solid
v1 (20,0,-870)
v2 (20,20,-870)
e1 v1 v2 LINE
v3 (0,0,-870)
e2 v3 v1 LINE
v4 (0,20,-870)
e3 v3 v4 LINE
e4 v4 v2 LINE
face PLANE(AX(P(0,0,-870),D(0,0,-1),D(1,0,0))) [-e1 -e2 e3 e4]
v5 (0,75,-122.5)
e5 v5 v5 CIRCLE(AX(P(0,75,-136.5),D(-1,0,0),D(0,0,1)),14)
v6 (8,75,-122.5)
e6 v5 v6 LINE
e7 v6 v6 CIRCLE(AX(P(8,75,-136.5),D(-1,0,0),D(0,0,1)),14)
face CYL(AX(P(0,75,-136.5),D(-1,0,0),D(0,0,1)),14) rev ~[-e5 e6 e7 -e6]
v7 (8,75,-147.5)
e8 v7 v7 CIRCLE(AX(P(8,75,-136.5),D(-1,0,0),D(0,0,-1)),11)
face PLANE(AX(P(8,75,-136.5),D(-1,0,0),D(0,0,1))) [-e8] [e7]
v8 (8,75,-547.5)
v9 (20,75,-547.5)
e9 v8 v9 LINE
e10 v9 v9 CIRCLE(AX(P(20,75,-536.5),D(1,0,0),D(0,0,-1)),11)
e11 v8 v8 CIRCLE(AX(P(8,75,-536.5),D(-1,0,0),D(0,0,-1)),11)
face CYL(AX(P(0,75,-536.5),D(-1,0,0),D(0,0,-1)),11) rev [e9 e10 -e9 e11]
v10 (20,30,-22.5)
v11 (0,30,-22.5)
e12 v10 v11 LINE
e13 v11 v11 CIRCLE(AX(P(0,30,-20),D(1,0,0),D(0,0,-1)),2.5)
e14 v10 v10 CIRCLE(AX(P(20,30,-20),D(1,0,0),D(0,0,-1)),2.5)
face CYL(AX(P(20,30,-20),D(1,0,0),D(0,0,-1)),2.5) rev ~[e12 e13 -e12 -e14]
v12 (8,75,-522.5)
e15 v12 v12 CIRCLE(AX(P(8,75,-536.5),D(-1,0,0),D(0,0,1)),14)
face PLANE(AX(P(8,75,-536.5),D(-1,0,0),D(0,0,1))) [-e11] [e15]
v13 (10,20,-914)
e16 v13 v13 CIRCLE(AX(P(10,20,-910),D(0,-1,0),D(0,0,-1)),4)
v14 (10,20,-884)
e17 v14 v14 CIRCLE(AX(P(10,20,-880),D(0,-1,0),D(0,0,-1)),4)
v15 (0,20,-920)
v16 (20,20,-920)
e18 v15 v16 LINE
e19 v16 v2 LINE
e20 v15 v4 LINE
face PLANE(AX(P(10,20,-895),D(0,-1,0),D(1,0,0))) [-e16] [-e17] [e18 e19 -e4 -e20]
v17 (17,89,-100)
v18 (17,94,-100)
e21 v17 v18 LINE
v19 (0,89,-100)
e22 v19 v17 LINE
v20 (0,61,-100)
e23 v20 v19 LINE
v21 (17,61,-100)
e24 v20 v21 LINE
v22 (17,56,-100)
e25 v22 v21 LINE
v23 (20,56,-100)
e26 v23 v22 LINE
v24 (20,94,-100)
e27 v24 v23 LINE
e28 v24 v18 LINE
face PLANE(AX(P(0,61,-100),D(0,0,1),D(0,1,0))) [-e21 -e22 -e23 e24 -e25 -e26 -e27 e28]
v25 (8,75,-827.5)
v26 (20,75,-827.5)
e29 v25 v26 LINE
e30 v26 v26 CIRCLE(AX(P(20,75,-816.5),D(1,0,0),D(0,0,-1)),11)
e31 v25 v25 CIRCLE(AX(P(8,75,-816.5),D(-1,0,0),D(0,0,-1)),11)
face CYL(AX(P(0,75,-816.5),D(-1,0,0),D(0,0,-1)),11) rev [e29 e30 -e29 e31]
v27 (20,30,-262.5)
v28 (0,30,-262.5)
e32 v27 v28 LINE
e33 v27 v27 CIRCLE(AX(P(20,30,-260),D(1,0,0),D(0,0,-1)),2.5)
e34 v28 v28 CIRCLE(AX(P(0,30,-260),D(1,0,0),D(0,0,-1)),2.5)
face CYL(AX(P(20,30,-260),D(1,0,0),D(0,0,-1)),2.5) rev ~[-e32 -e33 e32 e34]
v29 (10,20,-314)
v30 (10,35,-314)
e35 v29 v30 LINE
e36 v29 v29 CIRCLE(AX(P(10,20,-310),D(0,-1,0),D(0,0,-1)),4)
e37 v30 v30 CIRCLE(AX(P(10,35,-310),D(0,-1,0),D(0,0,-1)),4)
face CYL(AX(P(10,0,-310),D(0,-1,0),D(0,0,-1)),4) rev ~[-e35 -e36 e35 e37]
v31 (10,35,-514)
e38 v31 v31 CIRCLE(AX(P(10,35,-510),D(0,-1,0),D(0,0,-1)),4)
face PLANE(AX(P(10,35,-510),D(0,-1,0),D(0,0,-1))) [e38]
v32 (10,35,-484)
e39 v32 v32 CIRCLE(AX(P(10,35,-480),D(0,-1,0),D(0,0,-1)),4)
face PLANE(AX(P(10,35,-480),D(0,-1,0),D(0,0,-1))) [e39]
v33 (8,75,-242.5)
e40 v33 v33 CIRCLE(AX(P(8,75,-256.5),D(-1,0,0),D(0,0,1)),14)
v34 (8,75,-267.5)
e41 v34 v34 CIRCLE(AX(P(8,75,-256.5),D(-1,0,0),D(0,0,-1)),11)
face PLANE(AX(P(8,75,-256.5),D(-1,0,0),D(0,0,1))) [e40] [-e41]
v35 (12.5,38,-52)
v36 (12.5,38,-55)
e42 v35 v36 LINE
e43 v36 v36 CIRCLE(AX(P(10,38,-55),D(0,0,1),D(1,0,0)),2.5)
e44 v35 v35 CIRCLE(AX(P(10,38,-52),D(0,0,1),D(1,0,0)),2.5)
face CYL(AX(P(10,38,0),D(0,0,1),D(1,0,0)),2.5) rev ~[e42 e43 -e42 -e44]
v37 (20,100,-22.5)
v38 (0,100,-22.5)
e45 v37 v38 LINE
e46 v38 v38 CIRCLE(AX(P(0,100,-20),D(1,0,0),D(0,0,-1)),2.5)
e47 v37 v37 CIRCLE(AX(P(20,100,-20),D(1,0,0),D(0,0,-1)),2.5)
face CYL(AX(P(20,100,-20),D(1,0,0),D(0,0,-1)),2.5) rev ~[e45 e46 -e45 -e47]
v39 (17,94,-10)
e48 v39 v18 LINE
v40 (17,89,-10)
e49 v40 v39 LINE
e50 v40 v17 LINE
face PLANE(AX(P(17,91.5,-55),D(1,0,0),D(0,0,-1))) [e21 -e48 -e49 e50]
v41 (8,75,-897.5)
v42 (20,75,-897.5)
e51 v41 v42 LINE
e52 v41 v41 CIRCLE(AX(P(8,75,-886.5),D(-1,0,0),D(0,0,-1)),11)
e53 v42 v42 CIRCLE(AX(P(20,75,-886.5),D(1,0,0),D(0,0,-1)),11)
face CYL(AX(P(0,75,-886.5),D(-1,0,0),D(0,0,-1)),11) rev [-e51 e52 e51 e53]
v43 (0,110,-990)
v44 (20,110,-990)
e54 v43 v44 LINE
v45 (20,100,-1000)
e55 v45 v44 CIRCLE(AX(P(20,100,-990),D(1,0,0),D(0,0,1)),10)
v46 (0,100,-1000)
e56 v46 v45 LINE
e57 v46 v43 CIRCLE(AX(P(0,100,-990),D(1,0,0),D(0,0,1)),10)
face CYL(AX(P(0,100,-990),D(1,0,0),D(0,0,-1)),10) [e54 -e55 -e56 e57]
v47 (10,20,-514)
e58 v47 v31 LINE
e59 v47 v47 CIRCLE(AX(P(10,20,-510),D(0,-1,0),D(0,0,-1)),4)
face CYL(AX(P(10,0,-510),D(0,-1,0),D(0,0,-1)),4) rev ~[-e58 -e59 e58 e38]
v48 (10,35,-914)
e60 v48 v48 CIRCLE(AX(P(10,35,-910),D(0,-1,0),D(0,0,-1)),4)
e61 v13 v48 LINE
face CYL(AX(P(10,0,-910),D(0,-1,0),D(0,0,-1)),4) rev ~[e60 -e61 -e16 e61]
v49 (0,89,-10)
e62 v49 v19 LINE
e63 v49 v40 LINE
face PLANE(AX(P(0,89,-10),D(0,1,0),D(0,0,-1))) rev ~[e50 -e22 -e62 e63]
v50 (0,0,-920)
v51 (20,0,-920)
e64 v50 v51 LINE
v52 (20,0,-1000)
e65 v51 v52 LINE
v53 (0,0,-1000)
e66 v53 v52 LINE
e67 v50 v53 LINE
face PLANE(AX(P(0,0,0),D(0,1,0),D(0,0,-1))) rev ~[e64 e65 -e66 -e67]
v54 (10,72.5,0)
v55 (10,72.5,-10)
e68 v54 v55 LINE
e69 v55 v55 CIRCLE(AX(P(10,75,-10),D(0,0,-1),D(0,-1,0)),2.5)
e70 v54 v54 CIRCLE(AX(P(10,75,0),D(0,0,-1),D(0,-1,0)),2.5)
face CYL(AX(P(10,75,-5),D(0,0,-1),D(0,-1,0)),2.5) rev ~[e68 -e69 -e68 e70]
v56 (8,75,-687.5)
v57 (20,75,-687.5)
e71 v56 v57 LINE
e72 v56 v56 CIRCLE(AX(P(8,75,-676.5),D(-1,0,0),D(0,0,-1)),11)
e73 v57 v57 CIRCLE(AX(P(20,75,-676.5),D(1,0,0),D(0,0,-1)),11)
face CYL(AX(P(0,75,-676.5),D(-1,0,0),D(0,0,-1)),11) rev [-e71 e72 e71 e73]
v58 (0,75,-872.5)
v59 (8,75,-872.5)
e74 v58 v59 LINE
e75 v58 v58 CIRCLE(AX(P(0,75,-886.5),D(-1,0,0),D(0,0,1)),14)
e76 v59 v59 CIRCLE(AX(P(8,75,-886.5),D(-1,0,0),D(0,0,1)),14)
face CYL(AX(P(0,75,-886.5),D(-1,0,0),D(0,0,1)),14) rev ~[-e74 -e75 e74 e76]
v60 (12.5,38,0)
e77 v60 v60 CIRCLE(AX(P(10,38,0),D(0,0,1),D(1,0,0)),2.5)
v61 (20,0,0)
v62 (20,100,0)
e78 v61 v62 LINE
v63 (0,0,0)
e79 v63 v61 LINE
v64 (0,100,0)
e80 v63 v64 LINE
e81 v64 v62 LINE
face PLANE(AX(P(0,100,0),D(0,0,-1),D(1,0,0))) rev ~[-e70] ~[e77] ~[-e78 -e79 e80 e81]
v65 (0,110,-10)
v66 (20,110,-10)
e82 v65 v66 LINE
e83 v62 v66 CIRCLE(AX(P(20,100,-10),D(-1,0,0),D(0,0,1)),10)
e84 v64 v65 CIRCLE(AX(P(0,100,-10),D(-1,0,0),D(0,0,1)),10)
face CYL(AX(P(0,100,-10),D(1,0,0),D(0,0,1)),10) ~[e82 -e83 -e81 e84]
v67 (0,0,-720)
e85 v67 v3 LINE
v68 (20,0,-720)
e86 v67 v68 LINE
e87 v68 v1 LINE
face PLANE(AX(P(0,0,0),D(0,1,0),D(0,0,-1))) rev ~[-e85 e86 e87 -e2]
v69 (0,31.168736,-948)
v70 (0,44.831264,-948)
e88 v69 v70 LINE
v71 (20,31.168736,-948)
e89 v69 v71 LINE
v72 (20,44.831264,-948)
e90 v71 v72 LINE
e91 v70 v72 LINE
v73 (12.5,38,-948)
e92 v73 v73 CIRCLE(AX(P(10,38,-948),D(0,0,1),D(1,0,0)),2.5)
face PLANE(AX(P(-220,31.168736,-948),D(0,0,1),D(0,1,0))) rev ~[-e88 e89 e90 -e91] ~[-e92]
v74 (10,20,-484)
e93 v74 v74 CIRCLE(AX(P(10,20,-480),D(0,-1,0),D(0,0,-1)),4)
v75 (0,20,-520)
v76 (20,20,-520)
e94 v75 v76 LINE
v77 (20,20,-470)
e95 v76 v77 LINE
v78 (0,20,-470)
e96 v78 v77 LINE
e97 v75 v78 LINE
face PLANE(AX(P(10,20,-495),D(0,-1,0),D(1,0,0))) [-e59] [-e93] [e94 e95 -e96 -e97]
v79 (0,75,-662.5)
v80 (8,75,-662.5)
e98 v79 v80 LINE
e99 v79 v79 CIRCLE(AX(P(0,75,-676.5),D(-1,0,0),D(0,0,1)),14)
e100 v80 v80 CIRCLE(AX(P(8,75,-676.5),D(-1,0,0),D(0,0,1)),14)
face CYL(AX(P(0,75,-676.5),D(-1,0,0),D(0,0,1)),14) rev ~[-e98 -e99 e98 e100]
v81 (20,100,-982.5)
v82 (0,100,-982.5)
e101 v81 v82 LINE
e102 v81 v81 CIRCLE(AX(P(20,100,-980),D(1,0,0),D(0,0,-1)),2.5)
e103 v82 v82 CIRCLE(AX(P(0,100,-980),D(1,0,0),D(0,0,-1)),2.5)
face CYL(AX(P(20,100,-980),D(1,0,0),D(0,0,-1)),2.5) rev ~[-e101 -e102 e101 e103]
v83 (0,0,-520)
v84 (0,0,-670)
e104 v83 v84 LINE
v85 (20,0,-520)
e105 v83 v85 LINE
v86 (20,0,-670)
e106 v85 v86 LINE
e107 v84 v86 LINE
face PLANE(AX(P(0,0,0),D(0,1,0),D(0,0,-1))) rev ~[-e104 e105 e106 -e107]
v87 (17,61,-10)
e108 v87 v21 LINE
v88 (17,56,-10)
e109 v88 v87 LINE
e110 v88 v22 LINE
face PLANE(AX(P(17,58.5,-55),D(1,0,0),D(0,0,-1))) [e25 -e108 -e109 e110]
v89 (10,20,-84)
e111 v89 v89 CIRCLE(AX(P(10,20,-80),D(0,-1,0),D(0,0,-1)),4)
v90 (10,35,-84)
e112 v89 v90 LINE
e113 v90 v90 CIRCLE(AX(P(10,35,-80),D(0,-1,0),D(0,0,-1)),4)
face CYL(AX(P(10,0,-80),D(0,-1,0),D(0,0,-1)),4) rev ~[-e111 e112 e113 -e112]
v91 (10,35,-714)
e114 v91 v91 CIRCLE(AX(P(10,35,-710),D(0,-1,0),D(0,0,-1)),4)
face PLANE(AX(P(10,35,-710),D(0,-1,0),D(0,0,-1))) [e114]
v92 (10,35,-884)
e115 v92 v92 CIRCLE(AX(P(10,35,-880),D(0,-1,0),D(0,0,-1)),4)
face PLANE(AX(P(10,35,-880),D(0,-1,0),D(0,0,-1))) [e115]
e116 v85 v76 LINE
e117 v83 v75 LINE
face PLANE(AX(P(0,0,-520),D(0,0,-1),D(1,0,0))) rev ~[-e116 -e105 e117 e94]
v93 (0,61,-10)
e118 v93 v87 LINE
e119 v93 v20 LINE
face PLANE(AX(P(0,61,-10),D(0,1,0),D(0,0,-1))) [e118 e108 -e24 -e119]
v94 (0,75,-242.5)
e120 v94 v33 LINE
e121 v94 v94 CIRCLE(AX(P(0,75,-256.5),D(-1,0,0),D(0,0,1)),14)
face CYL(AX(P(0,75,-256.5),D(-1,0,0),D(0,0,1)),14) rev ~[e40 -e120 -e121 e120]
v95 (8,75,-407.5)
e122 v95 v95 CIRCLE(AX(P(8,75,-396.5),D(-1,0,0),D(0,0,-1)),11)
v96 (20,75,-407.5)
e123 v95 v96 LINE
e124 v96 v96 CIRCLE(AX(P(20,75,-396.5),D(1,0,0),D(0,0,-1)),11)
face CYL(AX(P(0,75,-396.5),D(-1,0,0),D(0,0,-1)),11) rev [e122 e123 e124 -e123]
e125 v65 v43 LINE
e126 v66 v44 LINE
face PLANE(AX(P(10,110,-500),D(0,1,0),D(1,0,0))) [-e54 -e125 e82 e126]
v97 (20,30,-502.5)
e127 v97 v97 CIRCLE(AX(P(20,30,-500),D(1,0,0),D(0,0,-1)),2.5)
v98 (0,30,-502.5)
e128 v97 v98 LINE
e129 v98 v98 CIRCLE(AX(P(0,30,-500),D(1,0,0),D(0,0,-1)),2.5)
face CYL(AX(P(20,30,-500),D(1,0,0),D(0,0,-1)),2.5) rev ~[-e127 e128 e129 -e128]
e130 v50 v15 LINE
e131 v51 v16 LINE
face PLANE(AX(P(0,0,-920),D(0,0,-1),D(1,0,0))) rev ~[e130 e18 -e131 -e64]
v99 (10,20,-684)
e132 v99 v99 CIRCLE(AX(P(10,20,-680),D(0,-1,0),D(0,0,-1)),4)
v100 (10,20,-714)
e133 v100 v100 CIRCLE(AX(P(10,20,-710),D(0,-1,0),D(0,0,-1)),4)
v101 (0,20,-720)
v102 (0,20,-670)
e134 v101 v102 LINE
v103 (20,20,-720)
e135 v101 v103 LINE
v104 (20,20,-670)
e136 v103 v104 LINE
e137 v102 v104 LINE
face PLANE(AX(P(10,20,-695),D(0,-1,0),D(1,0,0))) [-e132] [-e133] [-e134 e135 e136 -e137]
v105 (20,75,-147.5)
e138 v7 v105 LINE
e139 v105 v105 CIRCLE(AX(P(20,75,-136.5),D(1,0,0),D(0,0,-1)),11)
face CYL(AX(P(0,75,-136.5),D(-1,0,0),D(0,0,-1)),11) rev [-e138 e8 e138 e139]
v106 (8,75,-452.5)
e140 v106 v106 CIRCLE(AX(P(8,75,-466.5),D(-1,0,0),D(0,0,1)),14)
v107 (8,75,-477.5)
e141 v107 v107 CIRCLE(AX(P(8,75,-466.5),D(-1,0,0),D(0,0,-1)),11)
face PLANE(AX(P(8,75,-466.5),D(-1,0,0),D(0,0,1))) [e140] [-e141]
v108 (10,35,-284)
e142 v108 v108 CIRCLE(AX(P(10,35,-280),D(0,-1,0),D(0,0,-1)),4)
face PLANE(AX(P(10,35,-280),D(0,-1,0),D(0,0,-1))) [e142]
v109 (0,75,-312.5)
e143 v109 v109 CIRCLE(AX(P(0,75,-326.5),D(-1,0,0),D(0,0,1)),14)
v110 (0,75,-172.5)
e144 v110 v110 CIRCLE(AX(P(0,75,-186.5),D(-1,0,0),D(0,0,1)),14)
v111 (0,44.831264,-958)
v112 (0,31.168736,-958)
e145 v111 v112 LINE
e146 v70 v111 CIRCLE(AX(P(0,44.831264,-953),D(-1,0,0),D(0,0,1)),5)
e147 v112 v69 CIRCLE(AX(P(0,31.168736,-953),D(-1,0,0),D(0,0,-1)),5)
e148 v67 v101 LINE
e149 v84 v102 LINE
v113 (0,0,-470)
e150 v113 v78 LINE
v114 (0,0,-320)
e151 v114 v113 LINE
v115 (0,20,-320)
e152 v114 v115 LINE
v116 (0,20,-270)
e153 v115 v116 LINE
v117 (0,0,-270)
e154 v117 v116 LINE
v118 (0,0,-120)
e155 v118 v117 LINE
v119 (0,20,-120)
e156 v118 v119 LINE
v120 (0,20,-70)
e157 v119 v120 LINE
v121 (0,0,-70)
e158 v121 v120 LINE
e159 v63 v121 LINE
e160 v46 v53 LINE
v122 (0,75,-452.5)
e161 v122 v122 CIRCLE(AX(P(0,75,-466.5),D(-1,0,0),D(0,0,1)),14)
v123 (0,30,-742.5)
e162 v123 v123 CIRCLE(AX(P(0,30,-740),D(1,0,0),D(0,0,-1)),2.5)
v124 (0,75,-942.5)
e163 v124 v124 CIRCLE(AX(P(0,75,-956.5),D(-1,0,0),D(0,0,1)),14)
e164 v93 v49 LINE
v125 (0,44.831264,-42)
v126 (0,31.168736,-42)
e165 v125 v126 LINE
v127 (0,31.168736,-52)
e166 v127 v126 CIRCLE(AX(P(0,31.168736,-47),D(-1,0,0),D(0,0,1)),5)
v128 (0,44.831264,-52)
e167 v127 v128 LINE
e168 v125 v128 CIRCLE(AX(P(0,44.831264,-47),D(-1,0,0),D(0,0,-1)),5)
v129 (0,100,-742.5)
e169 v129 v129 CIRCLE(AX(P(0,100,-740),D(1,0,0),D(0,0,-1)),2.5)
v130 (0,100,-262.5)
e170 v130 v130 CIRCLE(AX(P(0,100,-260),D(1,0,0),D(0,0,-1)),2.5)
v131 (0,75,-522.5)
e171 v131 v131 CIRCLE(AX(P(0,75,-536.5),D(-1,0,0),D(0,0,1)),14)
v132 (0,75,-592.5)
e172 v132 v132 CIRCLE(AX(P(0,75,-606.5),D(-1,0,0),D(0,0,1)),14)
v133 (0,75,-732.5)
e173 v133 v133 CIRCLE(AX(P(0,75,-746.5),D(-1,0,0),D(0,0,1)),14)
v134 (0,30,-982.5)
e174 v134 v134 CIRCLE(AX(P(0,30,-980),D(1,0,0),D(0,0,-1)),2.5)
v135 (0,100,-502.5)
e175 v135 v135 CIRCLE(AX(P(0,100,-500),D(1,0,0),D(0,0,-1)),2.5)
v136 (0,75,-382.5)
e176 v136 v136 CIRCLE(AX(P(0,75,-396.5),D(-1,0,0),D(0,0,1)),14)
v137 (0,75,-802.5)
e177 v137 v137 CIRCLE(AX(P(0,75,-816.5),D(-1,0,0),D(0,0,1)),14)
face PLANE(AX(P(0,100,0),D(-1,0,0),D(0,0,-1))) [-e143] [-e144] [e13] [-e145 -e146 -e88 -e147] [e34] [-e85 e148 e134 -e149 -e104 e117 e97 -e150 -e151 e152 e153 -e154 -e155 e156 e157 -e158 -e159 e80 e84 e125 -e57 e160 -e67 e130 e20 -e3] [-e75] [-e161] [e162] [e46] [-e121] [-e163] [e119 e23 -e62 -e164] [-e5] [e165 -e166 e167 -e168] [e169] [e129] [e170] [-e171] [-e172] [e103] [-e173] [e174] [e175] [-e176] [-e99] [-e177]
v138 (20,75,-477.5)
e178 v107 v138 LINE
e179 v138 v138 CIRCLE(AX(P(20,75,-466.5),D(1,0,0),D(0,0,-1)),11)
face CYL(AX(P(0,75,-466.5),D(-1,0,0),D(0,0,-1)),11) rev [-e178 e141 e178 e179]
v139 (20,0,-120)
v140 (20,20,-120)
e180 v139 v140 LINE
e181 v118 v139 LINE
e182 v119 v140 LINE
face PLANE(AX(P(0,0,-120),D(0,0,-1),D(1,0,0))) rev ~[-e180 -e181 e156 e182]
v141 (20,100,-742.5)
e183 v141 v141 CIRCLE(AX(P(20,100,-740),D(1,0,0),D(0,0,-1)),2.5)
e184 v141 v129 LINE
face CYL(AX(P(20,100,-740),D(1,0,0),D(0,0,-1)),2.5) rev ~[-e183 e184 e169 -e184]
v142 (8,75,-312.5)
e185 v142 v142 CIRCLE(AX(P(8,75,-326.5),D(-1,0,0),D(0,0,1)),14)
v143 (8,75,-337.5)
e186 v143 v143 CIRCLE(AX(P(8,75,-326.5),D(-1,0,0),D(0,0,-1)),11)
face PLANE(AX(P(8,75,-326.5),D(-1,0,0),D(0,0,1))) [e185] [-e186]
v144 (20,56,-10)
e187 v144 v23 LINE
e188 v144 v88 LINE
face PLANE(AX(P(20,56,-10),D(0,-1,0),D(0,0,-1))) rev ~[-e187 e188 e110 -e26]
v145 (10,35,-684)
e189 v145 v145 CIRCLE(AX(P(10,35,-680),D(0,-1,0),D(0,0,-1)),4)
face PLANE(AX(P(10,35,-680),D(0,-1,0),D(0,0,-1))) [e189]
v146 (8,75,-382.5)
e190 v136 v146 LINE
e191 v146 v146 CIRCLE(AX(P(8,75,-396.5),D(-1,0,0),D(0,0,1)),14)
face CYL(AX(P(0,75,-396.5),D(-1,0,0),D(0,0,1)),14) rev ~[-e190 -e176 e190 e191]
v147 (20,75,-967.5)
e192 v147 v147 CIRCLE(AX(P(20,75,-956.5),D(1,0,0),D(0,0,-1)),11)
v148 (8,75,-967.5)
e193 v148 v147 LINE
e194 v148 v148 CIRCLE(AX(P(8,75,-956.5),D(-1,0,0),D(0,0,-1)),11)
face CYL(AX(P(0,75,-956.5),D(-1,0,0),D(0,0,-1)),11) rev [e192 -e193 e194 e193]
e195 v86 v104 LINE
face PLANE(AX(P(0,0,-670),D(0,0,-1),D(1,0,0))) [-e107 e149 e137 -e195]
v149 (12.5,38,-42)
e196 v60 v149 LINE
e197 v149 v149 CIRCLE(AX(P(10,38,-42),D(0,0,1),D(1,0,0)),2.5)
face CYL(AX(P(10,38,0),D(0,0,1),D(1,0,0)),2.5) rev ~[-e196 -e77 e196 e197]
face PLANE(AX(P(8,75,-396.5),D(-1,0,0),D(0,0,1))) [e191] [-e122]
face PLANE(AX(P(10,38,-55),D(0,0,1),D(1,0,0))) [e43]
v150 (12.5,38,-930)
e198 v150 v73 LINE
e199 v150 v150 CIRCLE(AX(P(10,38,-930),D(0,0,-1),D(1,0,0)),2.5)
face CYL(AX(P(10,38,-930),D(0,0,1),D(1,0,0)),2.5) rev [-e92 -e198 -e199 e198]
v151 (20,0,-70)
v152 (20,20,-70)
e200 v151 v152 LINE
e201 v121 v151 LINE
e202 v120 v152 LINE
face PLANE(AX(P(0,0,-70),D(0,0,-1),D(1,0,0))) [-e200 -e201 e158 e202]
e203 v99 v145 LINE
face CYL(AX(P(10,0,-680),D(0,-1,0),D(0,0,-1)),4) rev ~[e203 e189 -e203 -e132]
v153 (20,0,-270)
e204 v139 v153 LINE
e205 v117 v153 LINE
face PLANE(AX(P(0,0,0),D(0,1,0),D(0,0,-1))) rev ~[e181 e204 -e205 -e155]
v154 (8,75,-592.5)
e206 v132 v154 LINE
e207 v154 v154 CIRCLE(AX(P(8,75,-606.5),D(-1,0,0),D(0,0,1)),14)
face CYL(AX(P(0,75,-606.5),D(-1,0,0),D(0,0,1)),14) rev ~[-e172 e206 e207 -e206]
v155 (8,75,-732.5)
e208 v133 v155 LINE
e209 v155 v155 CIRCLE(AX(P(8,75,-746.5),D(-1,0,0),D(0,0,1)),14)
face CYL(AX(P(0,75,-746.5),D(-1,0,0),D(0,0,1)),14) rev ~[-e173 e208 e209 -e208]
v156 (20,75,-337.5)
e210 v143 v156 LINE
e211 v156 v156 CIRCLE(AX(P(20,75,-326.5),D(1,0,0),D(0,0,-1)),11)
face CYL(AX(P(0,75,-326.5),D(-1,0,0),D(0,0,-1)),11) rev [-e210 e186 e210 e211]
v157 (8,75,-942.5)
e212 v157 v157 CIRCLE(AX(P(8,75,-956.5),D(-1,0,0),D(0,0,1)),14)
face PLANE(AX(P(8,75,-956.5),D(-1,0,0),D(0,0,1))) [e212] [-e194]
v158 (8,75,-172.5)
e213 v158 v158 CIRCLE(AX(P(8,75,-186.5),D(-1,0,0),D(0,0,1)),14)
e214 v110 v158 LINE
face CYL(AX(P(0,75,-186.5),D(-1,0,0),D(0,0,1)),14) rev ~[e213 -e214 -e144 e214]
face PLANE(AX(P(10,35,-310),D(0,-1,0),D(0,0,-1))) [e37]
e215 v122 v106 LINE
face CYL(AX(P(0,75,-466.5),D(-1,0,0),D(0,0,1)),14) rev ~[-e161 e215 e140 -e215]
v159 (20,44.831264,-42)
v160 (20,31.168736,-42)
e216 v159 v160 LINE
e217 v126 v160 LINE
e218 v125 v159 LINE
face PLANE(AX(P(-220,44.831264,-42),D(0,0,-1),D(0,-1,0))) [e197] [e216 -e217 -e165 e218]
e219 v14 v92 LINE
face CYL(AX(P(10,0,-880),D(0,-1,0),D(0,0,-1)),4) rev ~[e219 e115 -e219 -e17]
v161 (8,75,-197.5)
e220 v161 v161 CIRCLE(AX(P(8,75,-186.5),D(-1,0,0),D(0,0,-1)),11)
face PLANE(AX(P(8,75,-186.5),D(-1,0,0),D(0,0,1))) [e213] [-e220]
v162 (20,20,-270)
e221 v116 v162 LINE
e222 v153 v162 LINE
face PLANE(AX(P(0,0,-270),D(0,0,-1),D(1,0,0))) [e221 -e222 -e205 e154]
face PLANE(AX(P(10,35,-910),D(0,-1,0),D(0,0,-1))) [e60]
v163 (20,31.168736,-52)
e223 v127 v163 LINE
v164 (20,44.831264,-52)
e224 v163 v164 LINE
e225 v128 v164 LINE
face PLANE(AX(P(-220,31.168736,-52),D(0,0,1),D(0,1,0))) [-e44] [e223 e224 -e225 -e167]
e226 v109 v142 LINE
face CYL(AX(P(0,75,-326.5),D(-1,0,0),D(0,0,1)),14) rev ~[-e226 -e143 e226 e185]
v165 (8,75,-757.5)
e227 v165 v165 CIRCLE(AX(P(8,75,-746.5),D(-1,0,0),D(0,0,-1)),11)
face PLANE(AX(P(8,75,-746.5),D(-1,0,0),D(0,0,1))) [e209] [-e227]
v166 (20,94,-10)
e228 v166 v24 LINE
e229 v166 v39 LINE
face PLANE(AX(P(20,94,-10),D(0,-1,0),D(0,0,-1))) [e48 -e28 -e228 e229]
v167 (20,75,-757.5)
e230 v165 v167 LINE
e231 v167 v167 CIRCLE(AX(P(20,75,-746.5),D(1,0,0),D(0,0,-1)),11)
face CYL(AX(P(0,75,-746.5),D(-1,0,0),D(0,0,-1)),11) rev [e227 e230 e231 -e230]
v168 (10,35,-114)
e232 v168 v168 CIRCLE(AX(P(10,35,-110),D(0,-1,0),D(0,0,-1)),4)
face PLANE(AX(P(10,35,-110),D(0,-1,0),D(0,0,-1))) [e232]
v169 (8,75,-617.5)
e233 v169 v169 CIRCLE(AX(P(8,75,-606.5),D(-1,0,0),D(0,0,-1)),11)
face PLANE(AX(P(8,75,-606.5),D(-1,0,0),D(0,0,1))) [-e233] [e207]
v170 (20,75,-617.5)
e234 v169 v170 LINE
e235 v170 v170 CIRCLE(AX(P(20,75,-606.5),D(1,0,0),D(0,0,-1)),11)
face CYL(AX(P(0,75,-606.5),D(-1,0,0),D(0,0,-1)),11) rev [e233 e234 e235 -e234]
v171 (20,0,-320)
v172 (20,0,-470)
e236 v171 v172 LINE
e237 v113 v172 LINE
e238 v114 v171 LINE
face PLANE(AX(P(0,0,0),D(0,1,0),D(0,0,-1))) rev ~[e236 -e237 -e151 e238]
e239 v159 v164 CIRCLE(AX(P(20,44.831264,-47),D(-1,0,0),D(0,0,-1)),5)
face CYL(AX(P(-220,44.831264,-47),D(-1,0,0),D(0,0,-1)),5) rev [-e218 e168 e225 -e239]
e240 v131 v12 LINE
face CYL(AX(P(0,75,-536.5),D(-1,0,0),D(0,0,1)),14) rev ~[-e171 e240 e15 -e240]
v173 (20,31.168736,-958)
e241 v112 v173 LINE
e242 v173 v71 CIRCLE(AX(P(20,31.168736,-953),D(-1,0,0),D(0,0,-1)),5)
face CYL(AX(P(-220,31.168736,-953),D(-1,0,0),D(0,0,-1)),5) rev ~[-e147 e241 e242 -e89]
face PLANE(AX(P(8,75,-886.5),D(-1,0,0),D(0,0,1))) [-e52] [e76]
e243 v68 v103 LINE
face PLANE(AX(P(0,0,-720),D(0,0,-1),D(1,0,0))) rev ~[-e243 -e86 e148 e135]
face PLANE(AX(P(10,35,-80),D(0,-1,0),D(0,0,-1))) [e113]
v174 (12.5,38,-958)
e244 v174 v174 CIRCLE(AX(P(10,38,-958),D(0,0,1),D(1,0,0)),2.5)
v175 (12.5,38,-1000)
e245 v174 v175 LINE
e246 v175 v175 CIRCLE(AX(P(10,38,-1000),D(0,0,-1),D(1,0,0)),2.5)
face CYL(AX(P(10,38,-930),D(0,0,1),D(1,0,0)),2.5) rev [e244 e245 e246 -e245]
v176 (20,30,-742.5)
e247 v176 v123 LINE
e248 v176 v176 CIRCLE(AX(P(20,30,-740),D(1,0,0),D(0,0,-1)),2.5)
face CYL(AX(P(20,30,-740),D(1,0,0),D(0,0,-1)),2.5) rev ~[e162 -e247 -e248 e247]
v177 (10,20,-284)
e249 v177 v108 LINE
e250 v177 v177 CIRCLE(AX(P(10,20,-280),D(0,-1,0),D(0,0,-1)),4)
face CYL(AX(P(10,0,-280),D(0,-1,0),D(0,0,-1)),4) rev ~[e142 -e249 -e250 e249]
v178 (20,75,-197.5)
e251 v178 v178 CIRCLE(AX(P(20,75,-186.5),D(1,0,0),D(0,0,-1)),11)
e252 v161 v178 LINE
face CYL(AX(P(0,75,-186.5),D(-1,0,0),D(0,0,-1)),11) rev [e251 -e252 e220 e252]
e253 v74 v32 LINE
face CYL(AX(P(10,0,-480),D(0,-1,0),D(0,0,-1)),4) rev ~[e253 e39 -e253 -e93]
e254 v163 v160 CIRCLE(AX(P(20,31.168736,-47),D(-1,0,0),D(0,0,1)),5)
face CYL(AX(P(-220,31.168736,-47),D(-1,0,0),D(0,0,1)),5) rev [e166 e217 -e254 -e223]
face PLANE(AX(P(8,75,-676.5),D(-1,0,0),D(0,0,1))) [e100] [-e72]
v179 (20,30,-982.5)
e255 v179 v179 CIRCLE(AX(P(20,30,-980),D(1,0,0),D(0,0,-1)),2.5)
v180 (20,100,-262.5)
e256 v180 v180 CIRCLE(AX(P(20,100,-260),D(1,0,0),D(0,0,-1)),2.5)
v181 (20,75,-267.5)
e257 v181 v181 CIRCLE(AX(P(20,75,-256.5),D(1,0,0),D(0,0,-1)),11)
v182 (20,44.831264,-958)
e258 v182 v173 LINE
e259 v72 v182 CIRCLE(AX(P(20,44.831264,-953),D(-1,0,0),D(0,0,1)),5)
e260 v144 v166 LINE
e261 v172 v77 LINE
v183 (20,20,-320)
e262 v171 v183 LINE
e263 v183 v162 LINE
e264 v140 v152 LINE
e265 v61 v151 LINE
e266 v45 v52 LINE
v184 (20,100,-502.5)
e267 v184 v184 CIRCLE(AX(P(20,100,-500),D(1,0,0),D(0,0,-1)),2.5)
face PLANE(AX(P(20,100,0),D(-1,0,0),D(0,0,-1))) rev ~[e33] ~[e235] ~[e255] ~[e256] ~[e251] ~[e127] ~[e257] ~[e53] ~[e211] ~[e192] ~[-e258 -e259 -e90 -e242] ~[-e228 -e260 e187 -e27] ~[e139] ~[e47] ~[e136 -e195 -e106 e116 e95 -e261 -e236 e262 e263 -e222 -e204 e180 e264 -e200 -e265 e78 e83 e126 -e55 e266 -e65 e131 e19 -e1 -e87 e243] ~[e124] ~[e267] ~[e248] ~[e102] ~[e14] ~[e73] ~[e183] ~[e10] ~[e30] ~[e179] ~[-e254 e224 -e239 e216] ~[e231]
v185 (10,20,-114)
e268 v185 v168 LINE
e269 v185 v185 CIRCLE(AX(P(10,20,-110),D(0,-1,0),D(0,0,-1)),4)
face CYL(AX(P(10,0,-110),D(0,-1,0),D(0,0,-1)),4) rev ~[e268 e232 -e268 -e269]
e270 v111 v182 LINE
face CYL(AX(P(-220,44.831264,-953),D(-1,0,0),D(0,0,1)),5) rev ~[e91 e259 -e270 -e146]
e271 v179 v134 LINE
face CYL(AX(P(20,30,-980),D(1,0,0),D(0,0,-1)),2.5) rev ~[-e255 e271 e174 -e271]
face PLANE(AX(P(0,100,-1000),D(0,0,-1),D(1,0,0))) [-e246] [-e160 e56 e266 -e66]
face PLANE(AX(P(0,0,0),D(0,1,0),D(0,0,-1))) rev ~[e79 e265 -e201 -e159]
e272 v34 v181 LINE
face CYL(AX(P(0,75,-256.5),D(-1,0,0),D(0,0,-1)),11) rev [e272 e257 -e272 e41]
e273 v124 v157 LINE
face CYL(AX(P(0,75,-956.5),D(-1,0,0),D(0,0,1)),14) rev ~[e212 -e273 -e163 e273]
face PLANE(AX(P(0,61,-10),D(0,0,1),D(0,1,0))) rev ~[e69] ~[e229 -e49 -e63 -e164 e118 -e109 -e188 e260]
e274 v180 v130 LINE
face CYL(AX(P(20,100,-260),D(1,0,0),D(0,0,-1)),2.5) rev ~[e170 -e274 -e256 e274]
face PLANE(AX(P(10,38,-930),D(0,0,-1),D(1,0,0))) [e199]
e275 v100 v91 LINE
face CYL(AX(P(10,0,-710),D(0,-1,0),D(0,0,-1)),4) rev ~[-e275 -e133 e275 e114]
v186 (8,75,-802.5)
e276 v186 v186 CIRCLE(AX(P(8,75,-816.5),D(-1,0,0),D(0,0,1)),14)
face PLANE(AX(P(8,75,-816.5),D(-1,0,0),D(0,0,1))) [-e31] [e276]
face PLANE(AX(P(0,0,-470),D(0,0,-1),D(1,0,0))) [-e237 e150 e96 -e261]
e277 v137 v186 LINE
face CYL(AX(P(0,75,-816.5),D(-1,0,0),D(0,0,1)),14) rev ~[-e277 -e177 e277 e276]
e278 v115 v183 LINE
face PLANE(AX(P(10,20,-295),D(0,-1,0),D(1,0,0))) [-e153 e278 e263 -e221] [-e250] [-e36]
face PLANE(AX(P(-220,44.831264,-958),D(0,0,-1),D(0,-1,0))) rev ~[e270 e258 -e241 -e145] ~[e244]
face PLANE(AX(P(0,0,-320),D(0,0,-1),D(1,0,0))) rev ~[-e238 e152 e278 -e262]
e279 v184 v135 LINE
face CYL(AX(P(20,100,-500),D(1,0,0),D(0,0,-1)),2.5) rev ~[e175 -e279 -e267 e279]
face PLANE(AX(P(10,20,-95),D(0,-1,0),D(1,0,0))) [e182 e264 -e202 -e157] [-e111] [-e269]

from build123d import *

# Parameters (mm, degrees)
SKETCH1_W                 = 1000
SKETCH1_H                 = 100
SKETCH1_R                 = 11
SKETCH1_W_2               = 90
SKETCH1_H_2               = 28
BOSS_EXTRUDE1_DEPTH       = 20
SKETCH2_W                 = 20
SKETCH2_H                 = 50
SKETCH2_R                 = 4
CUT_EXTRUDE2_DEPTH        = 20
LPATTERN1_COUNT           = 2
LPATTERN1_PITCH           = 220
SKETCH12_R                = 14
CUT_EXTRUDE6_DEPTH        = 8
SKETCH14_W                = 2.5
SKETCH14_H                = 10
SKETCH16_W                = 90
SKETCH16_H                = 5
CUT_EXTRUDE7_DEPTH        = 3
SKETCH17_W                = 90
SKETCH17_H                = 5
CUT_EXTRUDE8_DEPTH        = 3
SKETCH18_R                = 14
CUT_EXTRUDE9_DEPTH        = 8
SKETCH20_W                = 20
SKETCH20_H                = 1000
BOSS_EXTRUDE2_DEPTH       = 10
FILLET1_R                 = 10
FILLET2_R                 = 10
F_5_0MM_DOWEL_HOLE3_D     = 5
F_5_0MM_DOWEL_HOLE3_DEPTH = 10
F_5_0MM_DOWEL_HOLE3_TIP   = 1.502151548
SKETCH27_R                = 2.5
CUT_EXTRUDE10_DEPTH       = 55
CUT_EXTRUDE11_DEPTH       = 1035.26302264
CUT_EXTRUDE12_START       = -70
SKETCH29_R                = 2.5
CUT_EXTRUDE12_DEPTH       = 70
SKETCH30_R                = 2.5
CUT_EXTRUDE13_DEPTH       = 1035.26302264
CUT_EXTRUDE14_REACH       = 1036.263
SKETCH31_W                = 1251.907534991
SKETCH31_H                = 393.114099754
SKETCH32_R                = 4
CUT_EXTRUDE15_DEPTH       = 35


with BuildPart() as part:
    # Sketch1 → Boss-Extrude1 (new body)
    with BuildSketch(Plane(origin=(0, 0, 0), x_dir=(0, 0, -1), z_dir=(1, 0, 0))):
        with Locations((500, 50)):
            Rectangle(SKETCH1_W, SKETCH1_H)
        with Locations((956.5, 75)):
            Circle(SKETCH1_R, mode=Mode.SUBTRACT)
        with Locations((886.5, 75)):
            Circle(SKETCH1_R, mode=Mode.SUBTRACT)
        with Locations((816.5, 75)):
            Circle(SKETCH1_R, mode=Mode.SUBTRACT)
        with Locations((746.5, 75)):
            Circle(SKETCH1_R, mode=Mode.SUBTRACT)
        with Locations((676.5, 75)):
            Circle(SKETCH1_R, mode=Mode.SUBTRACT)
        with Locations((606.5, 75)):
            Circle(SKETCH1_R, mode=Mode.SUBTRACT)
        with Locations((536.5, 75)):
            Circle(SKETCH1_R, mode=Mode.SUBTRACT)
        with Locations((466.5, 75)):
            Circle(SKETCH1_R, mode=Mode.SUBTRACT)
        with Locations((396.5, 75)):
            Circle(SKETCH1_R, mode=Mode.SUBTRACT)
        with Locations((326.5, 75)):
            Circle(SKETCH1_R, mode=Mode.SUBTRACT)
        with Locations((256.5, 75)):
            Circle(SKETCH1_R, mode=Mode.SUBTRACT)
        with Locations((186.5, 75)):
            Circle(SKETCH1_R, mode=Mode.SUBTRACT)
        with Locations((136.5, 75)):
            Circle(SKETCH1_R, mode=Mode.SUBTRACT)
        with Locations((55, 75)):
            Rectangle(SKETCH1_W_2, SKETCH1_H_2, mode=Mode.SUBTRACT)
    extrude(amount=BOSS_EXTRUDE1_DEPTH)

    # Sketch2 → Cut-Extrude2 (cut)
    # profile 1 of 5: a face of its own
    with BuildSketch(Plane.XZ):
        with Locations((10, -895)):
            Rectangle(SKETCH2_W, SKETCH2_H)
        with Locations(Location((10, -910, 0), (0, 0, 270))):
            Circle(SKETCH2_R, mode=Mode.SUBTRACT)
        with Locations(Location((10, -880, 0), (0, 0, 270))):
            Circle(SKETCH2_R, mode=Mode.SUBTRACT)
    # profile 2 of 5: a face of its own
    with BuildSketch(Plane.XZ):
        with Locations((10, -695)):
            Rectangle(SKETCH2_W, SKETCH2_H)
        with Locations(Location((10, -710, 0), (0, 0, 270))):
            Circle(SKETCH2_R, mode=Mode.SUBTRACT)
        with Locations(Location((10, -680, 0), (0, 0, 270))):
            Circle(SKETCH2_R, mode=Mode.SUBTRACT)
    # profile 3 of 5: a face of its own
    with BuildSketch(Plane.XZ):
        with Locations((10, -495)):
            Rectangle(SKETCH2_W, SKETCH2_H)
        with Locations(Location((10, -510, 0), (0, 0, 270))):
            Circle(SKETCH2_R, mode=Mode.SUBTRACT)
        with Locations(Location((10, -480, 0), (0, 0, 270))):
            Circle(SKETCH2_R, mode=Mode.SUBTRACT)
    # profile 4 of 5: a face of its own
    with BuildSketch(Plane.XZ):
        with Locations((10, -295)):
            Rectangle(SKETCH2_W, SKETCH2_H)
        with Locations(Location((10, -310, 0), (0, 0, 270))):
            Circle(SKETCH2_R, mode=Mode.SUBTRACT)
        with Locations(Location((10, -280, 0), (0, 0, 270))):
            Circle(SKETCH2_R, mode=Mode.SUBTRACT)
    # profile 5 of 5: a face of its own
    with BuildSketch(Plane.XZ):
        with Locations((10, -95)):
            Rectangle(SKETCH2_W, SKETCH2_H)
        with Locations(Location((10, -110, 0), (0, 0, 270))):
            Circle(SKETCH2_R, mode=Mode.SUBTRACT)
        with Locations(Location((10, -80, 0), (0, 0, 270))):
            Circle(SKETCH2_R, mode=Mode.SUBTRACT)
    extrude(amount=-CUT_EXTRUDE2_DEPTH, mode=Mode.SUBTRACT)


with BuildPart() as lpattern1_1:
    # LPattern1: pattern copy
    add(part.part.moved(Location(Vector(-1, 0, 0) * (1 * LPATTERN1_PITCH))))

    # Sketch12 → Cut-Extrude6 (cut)
    with BuildSketch(Plane(origin=(-200, 0, 0), x_dir=(0, 0, -1), z_dir=(1, 0, 0))):
        with Locations((956.5, 75)):
            Circle(SKETCH12_R)
        with Locations((886.5, 75)):
            Circle(SKETCH12_R)
        with Locations((816.5, 75)):
            Circle(SKETCH12_R)
        with Locations((746.5, 75)):
            Circle(SKETCH12_R)
        with Locations((676.5, 75)):
            Circle(SKETCH12_R)
        with Locations((606.5, 75)):
            Circle(SKETCH12_R)
        with Locations((536.5, 75)):
            Circle(SKETCH12_R)
        with Locations((466.5, 75)):
            Circle(SKETCH12_R)
        with Locations((396.5, 75)):
            Circle(SKETCH12_R)
        with Locations((326.5, 75)):
            Circle(SKETCH12_R)
        with Locations((256.5, 75)):
            Circle(SKETCH12_R)
        with Locations((186.5, 75)):
            Circle(SKETCH12_R)
        with Locations((136.5, 75)):
            Circle(SKETCH12_R)
    extrude(amount=-CUT_EXTRUDE6_DEPTH, mode=Mode.SUBTRACT)

    # Sketch16 → Cut-Extrude7 (cut)
    with BuildSketch(Plane.ZY.offset(220)):
        with Locations((-55, 91.5)):
            Rectangle(SKETCH16_W, SKETCH16_H)
        with Locations((-55, 58.5)):
            Rectangle(SKETCH16_W, SKETCH16_H)
    extrude(amount=-CUT_EXTRUDE7_DEPTH, mode=Mode.SUBTRACT)


with BuildPart() as part_1:
    add(part.part)

    # Sketch14 → Ø5.0mm Dowel Hole1 (revolve, cut)
    with BuildSketch(Plane(origin=(10, 75, 0), x_dir=(0, -1, 0), z_dir=(1, 0, 0))):
        with Locations((1.25, 5)):
            Rectangle(SKETCH14_W, SKETCH14_H)
    revolve(axis=Axis((10, 75, 6.35), (0, 0, -1)), mode=Mode.SUBTRACT)

    # Sketch17 → Cut-Extrude8 (cut)
    with BuildSketch(Plane(origin=(20, 0, 0), x_dir=(0, 0, -1), z_dir=(1, 0, 0))):
        with Locations((55, 91.5)):
            Rectangle(SKETCH17_W, SKETCH17_H)
        with Locations((55, 58.5)):
            Rectangle(SKETCH17_W, SKETCH17_H)
    extrude(amount=-CUT_EXTRUDE8_DEPTH, mode=Mode.SUBTRACT)

    # Sketch18 → Cut-Extrude9 (cut)
    with BuildSketch(Plane.ZY):
        with Locations((-956.5, 75)):
            Circle(SKETCH18_R)
        with Locations((-886.5, 75)):
            Circle(SKETCH18_R)
        with Locations((-816.5, 75)):
            Circle(SKETCH18_R)
        with Locations((-746.5, 75)):
            Circle(SKETCH18_R)
        with Locations((-676.5, 75)):
            Circle(SKETCH18_R)
        with Locations((-606.5, 75)):
            Circle(SKETCH18_R)
        with Locations((-536.5, 75)):
            Circle(SKETCH18_R)
        with Locations((-466.5, 75)):
            Circle(SKETCH18_R)
        with Locations((-396.5, 75)):
            Circle(SKETCH18_R)
        with Locations((-326.5, 75)):
            Circle(SKETCH18_R)
        with Locations((-256.5, 75)):
            Circle(SKETCH18_R)
        with Locations((-186.5, 75)):
            Circle(SKETCH18_R)
        with Locations((-136.5, 75)):
            Circle(SKETCH18_R)
    extrude(amount=-CUT_EXTRUDE9_DEPTH, mode=Mode.SUBTRACT)

    add(lpattern1_1.part)  # Boss-Extrude2 merges LPattern1_1
    # Sketch20 → Boss-Extrude2 (add)
    with BuildSketch(Plane(origin=(0, 100, 0), x_dir=(1, 0, 0), z_dir=(0, 1, 0))):
        with Locations((-210, 500)):
            Rectangle(SKETCH20_W, SKETCH20_H)
        with Locations((10, 500)):
            Rectangle(SKETCH20_W, SKETCH20_H)
    extrude(amount=BOSS_EXTRUDE2_DEPTH)

    # Fillet1
    fillet1_edges = [part_1.edges().sort_by_distance(p)[0] for p in [
        (-210, 110, 0),
        (-210, 110, -1000),
    ]]
    fillet(fillet1_edges, radius=FILLET1_R)

    # Fillet2
    fillet2_edges = [part_1.edges().sort_by_distance(p)[0] for p in [
        (10, 110, 0),
        (10, 110, -1000),
    ]]
    fillet(fillet2_edges, radius=FILLET2_R)

    # Ø5.0mm Dowel Hole3
    with Locations(Plane(origin=(-210, 74.987891575, 0), x_dir=(1, 0, 0), z_dir=(0, 0, 1))):
        with Locations((0, 0)):
            Hole(F_5_0MM_DOWEL_HOLE3_D / 2, depth=F_5_0MM_DOWEL_HOLE3_DEPTH)
            with Locations((0, 0, -(F_5_0MM_DOWEL_HOLE3_DEPTH + F_5_0MM_DOWEL_HOLE3_TIP / 2))):  # 118° drill point
                Cone(0, F_5_0MM_DOWEL_HOLE3_D / 2, F_5_0MM_DOWEL_HOLE3_TIP, mode=Mode.SUBTRACT)

    # Sketch27 → Cut-Extrude10 (cut)
    with BuildSketch(Plane.XY):
        with Locations((-210, 38)):
            Circle(SKETCH27_R)
        with Locations((10, 38)):
            Circle(SKETCH27_R)
    extrude(amount=-CUT_EXTRUDE10_DEPTH, mode=Mode.SUBTRACT)

    # Sketch28 → Cut-Extrude11 (cut, through all)
    with BuildSketch(Plane.ZY.offset(220)):
        with BuildLine():
            Line((-42, 44.831263619), (-42, 31.168736381))
            ThreePointArc((-42, 31.168736381), (-47, 26.168736381), (-52, 31.168736381))
            Line((-52, 31.168736381), (-52, 44.831263619))
            ThreePointArc((-52, 44.831263619), (-47, 49.831263619), (-42, 44.831263619))
        make_face()
        with BuildLine():
            Line((-958, 44.831263619), (-958, 31.168736381))
            ThreePointArc((-958, 31.168736381), (-953, 26.168736381), (-948, 31.168736381))
            Line((-948, 31.168736381), (-948, 44.831263619))
            ThreePointArc((-948, 44.831263619), (-953, 49.831263619), (-958, 44.831263619))
        make_face()
    extrude(amount=-CUT_EXTRUDE11_DEPTH, mode=Mode.SUBTRACT)

    # Sketch29 → Cut-Extrude12 (cut)
    with BuildSketch(Plane(origin=(0, 0, -1000), x_dir=(-1, 0, 0), z_dir=(0, 0, -1)).offset(CUT_EXTRUDE12_START)):
        with Locations(Location((-10, 38, 0), (0, 0, 180))):
            Circle(SKETCH29_R)
        with Locations(Location((210, 38, 0), (0, 0, 180))):
            Circle(SKETCH29_R)
    extrude(amount=CUT_EXTRUDE12_DEPTH, mode=Mode.SUBTRACT)

    # Sketch30 → Cut-Extrude13 (cut, through all)
    with BuildSketch(Plane(origin=(20, 0, 0), x_dir=(0, 0, -1), z_dir=(1, 0, 0))):
        with Locations((500, 30)):
            Circle(SKETCH30_R)
        with Locations((20, 30)):
            Circle(SKETCH30_R)
        with Locations((20, 100)):
            Circle(SKETCH30_R)
        with Locations((500, 100)):
            Circle(SKETCH30_R)
        with Locations((980, 100)):
            Circle(SKETCH30_R)
        with Locations((980, 30)):
            Circle(SKETCH30_R)
        with Locations((260, 100)):
            Circle(SKETCH30_R)
        with Locations((740, 100)):
            Circle(SKETCH30_R)
        with Locations((740, 30)):
            Circle(SKETCH30_R)
        with Locations((260, 30)):
            Circle(SKETCH30_R)
    extrude(amount=-CUT_EXTRUDE13_DEPTH, mode=Mode.SUBTRACT)

    # Sketch31 → Cut-Extrude14 (cut, up to next)
    with BuildSketch(Plane.ZY.offset(220), mode=Mode.PRIVATE) as cut_extrude14_sk1:
        with Locations((-530.819455446, 0)):
            Rectangle(SKETCH31_W, SKETCH31_H)
    cut_extrude14_tool1 = extrude(cut_extrude14_sk1.sketch, amount=-CUT_EXTRUDE14_REACH, mode=Mode.PRIVATE) & part_1.part
    add(cut_extrude14_tool1.solids().sort_by_distance((-220, 0, -530.819455))[0], mode=Mode.SUBTRACT)

    # Sketch32 → Cut-Extrude15 (cut)
    with BuildSketch(Plane.XZ):
        with Locations(Location((10, -310, 0), (0, 0, 270))):
            Circle(SKETCH32_R)
        with Locations(Location((10, -280, 0), (0, 0, 270))):
            Circle(SKETCH32_R)
        with Locations(Location((10, -110, 0), (0, 0, 270))):
            Circle(SKETCH32_R)
        with Locations(Location((10, -80, 0), (0, 0, 270))):
            Circle(SKETCH32_R)
        with Locations(Location((10, -480, 0), (0, 0, 270))):
            Circle(SKETCH32_R)
        with Locations(Location((10, -510, 0), (0, 0, 270))):
            Circle(SKETCH32_R)
        with Locations(Location((10, -680, 0), (0, 0, 270))):
            Circle(SKETCH32_R)
        with Locations(Location((10, -710, 0), (0, 0, 270))):
            Circle(SKETCH32_R)
        with Locations(Location((10, -880, 0), (0, 0, 270))):
            Circle(SKETCH32_R)
        with Locations(Location((10, -910, 0), (0, 0, 270))):
            Circle(SKETCH32_R)
    extrude(amount=-CUT_EXTRUDE15_DEPTH, mode=Mode.SUBTRACT)


solid = part_1.part
